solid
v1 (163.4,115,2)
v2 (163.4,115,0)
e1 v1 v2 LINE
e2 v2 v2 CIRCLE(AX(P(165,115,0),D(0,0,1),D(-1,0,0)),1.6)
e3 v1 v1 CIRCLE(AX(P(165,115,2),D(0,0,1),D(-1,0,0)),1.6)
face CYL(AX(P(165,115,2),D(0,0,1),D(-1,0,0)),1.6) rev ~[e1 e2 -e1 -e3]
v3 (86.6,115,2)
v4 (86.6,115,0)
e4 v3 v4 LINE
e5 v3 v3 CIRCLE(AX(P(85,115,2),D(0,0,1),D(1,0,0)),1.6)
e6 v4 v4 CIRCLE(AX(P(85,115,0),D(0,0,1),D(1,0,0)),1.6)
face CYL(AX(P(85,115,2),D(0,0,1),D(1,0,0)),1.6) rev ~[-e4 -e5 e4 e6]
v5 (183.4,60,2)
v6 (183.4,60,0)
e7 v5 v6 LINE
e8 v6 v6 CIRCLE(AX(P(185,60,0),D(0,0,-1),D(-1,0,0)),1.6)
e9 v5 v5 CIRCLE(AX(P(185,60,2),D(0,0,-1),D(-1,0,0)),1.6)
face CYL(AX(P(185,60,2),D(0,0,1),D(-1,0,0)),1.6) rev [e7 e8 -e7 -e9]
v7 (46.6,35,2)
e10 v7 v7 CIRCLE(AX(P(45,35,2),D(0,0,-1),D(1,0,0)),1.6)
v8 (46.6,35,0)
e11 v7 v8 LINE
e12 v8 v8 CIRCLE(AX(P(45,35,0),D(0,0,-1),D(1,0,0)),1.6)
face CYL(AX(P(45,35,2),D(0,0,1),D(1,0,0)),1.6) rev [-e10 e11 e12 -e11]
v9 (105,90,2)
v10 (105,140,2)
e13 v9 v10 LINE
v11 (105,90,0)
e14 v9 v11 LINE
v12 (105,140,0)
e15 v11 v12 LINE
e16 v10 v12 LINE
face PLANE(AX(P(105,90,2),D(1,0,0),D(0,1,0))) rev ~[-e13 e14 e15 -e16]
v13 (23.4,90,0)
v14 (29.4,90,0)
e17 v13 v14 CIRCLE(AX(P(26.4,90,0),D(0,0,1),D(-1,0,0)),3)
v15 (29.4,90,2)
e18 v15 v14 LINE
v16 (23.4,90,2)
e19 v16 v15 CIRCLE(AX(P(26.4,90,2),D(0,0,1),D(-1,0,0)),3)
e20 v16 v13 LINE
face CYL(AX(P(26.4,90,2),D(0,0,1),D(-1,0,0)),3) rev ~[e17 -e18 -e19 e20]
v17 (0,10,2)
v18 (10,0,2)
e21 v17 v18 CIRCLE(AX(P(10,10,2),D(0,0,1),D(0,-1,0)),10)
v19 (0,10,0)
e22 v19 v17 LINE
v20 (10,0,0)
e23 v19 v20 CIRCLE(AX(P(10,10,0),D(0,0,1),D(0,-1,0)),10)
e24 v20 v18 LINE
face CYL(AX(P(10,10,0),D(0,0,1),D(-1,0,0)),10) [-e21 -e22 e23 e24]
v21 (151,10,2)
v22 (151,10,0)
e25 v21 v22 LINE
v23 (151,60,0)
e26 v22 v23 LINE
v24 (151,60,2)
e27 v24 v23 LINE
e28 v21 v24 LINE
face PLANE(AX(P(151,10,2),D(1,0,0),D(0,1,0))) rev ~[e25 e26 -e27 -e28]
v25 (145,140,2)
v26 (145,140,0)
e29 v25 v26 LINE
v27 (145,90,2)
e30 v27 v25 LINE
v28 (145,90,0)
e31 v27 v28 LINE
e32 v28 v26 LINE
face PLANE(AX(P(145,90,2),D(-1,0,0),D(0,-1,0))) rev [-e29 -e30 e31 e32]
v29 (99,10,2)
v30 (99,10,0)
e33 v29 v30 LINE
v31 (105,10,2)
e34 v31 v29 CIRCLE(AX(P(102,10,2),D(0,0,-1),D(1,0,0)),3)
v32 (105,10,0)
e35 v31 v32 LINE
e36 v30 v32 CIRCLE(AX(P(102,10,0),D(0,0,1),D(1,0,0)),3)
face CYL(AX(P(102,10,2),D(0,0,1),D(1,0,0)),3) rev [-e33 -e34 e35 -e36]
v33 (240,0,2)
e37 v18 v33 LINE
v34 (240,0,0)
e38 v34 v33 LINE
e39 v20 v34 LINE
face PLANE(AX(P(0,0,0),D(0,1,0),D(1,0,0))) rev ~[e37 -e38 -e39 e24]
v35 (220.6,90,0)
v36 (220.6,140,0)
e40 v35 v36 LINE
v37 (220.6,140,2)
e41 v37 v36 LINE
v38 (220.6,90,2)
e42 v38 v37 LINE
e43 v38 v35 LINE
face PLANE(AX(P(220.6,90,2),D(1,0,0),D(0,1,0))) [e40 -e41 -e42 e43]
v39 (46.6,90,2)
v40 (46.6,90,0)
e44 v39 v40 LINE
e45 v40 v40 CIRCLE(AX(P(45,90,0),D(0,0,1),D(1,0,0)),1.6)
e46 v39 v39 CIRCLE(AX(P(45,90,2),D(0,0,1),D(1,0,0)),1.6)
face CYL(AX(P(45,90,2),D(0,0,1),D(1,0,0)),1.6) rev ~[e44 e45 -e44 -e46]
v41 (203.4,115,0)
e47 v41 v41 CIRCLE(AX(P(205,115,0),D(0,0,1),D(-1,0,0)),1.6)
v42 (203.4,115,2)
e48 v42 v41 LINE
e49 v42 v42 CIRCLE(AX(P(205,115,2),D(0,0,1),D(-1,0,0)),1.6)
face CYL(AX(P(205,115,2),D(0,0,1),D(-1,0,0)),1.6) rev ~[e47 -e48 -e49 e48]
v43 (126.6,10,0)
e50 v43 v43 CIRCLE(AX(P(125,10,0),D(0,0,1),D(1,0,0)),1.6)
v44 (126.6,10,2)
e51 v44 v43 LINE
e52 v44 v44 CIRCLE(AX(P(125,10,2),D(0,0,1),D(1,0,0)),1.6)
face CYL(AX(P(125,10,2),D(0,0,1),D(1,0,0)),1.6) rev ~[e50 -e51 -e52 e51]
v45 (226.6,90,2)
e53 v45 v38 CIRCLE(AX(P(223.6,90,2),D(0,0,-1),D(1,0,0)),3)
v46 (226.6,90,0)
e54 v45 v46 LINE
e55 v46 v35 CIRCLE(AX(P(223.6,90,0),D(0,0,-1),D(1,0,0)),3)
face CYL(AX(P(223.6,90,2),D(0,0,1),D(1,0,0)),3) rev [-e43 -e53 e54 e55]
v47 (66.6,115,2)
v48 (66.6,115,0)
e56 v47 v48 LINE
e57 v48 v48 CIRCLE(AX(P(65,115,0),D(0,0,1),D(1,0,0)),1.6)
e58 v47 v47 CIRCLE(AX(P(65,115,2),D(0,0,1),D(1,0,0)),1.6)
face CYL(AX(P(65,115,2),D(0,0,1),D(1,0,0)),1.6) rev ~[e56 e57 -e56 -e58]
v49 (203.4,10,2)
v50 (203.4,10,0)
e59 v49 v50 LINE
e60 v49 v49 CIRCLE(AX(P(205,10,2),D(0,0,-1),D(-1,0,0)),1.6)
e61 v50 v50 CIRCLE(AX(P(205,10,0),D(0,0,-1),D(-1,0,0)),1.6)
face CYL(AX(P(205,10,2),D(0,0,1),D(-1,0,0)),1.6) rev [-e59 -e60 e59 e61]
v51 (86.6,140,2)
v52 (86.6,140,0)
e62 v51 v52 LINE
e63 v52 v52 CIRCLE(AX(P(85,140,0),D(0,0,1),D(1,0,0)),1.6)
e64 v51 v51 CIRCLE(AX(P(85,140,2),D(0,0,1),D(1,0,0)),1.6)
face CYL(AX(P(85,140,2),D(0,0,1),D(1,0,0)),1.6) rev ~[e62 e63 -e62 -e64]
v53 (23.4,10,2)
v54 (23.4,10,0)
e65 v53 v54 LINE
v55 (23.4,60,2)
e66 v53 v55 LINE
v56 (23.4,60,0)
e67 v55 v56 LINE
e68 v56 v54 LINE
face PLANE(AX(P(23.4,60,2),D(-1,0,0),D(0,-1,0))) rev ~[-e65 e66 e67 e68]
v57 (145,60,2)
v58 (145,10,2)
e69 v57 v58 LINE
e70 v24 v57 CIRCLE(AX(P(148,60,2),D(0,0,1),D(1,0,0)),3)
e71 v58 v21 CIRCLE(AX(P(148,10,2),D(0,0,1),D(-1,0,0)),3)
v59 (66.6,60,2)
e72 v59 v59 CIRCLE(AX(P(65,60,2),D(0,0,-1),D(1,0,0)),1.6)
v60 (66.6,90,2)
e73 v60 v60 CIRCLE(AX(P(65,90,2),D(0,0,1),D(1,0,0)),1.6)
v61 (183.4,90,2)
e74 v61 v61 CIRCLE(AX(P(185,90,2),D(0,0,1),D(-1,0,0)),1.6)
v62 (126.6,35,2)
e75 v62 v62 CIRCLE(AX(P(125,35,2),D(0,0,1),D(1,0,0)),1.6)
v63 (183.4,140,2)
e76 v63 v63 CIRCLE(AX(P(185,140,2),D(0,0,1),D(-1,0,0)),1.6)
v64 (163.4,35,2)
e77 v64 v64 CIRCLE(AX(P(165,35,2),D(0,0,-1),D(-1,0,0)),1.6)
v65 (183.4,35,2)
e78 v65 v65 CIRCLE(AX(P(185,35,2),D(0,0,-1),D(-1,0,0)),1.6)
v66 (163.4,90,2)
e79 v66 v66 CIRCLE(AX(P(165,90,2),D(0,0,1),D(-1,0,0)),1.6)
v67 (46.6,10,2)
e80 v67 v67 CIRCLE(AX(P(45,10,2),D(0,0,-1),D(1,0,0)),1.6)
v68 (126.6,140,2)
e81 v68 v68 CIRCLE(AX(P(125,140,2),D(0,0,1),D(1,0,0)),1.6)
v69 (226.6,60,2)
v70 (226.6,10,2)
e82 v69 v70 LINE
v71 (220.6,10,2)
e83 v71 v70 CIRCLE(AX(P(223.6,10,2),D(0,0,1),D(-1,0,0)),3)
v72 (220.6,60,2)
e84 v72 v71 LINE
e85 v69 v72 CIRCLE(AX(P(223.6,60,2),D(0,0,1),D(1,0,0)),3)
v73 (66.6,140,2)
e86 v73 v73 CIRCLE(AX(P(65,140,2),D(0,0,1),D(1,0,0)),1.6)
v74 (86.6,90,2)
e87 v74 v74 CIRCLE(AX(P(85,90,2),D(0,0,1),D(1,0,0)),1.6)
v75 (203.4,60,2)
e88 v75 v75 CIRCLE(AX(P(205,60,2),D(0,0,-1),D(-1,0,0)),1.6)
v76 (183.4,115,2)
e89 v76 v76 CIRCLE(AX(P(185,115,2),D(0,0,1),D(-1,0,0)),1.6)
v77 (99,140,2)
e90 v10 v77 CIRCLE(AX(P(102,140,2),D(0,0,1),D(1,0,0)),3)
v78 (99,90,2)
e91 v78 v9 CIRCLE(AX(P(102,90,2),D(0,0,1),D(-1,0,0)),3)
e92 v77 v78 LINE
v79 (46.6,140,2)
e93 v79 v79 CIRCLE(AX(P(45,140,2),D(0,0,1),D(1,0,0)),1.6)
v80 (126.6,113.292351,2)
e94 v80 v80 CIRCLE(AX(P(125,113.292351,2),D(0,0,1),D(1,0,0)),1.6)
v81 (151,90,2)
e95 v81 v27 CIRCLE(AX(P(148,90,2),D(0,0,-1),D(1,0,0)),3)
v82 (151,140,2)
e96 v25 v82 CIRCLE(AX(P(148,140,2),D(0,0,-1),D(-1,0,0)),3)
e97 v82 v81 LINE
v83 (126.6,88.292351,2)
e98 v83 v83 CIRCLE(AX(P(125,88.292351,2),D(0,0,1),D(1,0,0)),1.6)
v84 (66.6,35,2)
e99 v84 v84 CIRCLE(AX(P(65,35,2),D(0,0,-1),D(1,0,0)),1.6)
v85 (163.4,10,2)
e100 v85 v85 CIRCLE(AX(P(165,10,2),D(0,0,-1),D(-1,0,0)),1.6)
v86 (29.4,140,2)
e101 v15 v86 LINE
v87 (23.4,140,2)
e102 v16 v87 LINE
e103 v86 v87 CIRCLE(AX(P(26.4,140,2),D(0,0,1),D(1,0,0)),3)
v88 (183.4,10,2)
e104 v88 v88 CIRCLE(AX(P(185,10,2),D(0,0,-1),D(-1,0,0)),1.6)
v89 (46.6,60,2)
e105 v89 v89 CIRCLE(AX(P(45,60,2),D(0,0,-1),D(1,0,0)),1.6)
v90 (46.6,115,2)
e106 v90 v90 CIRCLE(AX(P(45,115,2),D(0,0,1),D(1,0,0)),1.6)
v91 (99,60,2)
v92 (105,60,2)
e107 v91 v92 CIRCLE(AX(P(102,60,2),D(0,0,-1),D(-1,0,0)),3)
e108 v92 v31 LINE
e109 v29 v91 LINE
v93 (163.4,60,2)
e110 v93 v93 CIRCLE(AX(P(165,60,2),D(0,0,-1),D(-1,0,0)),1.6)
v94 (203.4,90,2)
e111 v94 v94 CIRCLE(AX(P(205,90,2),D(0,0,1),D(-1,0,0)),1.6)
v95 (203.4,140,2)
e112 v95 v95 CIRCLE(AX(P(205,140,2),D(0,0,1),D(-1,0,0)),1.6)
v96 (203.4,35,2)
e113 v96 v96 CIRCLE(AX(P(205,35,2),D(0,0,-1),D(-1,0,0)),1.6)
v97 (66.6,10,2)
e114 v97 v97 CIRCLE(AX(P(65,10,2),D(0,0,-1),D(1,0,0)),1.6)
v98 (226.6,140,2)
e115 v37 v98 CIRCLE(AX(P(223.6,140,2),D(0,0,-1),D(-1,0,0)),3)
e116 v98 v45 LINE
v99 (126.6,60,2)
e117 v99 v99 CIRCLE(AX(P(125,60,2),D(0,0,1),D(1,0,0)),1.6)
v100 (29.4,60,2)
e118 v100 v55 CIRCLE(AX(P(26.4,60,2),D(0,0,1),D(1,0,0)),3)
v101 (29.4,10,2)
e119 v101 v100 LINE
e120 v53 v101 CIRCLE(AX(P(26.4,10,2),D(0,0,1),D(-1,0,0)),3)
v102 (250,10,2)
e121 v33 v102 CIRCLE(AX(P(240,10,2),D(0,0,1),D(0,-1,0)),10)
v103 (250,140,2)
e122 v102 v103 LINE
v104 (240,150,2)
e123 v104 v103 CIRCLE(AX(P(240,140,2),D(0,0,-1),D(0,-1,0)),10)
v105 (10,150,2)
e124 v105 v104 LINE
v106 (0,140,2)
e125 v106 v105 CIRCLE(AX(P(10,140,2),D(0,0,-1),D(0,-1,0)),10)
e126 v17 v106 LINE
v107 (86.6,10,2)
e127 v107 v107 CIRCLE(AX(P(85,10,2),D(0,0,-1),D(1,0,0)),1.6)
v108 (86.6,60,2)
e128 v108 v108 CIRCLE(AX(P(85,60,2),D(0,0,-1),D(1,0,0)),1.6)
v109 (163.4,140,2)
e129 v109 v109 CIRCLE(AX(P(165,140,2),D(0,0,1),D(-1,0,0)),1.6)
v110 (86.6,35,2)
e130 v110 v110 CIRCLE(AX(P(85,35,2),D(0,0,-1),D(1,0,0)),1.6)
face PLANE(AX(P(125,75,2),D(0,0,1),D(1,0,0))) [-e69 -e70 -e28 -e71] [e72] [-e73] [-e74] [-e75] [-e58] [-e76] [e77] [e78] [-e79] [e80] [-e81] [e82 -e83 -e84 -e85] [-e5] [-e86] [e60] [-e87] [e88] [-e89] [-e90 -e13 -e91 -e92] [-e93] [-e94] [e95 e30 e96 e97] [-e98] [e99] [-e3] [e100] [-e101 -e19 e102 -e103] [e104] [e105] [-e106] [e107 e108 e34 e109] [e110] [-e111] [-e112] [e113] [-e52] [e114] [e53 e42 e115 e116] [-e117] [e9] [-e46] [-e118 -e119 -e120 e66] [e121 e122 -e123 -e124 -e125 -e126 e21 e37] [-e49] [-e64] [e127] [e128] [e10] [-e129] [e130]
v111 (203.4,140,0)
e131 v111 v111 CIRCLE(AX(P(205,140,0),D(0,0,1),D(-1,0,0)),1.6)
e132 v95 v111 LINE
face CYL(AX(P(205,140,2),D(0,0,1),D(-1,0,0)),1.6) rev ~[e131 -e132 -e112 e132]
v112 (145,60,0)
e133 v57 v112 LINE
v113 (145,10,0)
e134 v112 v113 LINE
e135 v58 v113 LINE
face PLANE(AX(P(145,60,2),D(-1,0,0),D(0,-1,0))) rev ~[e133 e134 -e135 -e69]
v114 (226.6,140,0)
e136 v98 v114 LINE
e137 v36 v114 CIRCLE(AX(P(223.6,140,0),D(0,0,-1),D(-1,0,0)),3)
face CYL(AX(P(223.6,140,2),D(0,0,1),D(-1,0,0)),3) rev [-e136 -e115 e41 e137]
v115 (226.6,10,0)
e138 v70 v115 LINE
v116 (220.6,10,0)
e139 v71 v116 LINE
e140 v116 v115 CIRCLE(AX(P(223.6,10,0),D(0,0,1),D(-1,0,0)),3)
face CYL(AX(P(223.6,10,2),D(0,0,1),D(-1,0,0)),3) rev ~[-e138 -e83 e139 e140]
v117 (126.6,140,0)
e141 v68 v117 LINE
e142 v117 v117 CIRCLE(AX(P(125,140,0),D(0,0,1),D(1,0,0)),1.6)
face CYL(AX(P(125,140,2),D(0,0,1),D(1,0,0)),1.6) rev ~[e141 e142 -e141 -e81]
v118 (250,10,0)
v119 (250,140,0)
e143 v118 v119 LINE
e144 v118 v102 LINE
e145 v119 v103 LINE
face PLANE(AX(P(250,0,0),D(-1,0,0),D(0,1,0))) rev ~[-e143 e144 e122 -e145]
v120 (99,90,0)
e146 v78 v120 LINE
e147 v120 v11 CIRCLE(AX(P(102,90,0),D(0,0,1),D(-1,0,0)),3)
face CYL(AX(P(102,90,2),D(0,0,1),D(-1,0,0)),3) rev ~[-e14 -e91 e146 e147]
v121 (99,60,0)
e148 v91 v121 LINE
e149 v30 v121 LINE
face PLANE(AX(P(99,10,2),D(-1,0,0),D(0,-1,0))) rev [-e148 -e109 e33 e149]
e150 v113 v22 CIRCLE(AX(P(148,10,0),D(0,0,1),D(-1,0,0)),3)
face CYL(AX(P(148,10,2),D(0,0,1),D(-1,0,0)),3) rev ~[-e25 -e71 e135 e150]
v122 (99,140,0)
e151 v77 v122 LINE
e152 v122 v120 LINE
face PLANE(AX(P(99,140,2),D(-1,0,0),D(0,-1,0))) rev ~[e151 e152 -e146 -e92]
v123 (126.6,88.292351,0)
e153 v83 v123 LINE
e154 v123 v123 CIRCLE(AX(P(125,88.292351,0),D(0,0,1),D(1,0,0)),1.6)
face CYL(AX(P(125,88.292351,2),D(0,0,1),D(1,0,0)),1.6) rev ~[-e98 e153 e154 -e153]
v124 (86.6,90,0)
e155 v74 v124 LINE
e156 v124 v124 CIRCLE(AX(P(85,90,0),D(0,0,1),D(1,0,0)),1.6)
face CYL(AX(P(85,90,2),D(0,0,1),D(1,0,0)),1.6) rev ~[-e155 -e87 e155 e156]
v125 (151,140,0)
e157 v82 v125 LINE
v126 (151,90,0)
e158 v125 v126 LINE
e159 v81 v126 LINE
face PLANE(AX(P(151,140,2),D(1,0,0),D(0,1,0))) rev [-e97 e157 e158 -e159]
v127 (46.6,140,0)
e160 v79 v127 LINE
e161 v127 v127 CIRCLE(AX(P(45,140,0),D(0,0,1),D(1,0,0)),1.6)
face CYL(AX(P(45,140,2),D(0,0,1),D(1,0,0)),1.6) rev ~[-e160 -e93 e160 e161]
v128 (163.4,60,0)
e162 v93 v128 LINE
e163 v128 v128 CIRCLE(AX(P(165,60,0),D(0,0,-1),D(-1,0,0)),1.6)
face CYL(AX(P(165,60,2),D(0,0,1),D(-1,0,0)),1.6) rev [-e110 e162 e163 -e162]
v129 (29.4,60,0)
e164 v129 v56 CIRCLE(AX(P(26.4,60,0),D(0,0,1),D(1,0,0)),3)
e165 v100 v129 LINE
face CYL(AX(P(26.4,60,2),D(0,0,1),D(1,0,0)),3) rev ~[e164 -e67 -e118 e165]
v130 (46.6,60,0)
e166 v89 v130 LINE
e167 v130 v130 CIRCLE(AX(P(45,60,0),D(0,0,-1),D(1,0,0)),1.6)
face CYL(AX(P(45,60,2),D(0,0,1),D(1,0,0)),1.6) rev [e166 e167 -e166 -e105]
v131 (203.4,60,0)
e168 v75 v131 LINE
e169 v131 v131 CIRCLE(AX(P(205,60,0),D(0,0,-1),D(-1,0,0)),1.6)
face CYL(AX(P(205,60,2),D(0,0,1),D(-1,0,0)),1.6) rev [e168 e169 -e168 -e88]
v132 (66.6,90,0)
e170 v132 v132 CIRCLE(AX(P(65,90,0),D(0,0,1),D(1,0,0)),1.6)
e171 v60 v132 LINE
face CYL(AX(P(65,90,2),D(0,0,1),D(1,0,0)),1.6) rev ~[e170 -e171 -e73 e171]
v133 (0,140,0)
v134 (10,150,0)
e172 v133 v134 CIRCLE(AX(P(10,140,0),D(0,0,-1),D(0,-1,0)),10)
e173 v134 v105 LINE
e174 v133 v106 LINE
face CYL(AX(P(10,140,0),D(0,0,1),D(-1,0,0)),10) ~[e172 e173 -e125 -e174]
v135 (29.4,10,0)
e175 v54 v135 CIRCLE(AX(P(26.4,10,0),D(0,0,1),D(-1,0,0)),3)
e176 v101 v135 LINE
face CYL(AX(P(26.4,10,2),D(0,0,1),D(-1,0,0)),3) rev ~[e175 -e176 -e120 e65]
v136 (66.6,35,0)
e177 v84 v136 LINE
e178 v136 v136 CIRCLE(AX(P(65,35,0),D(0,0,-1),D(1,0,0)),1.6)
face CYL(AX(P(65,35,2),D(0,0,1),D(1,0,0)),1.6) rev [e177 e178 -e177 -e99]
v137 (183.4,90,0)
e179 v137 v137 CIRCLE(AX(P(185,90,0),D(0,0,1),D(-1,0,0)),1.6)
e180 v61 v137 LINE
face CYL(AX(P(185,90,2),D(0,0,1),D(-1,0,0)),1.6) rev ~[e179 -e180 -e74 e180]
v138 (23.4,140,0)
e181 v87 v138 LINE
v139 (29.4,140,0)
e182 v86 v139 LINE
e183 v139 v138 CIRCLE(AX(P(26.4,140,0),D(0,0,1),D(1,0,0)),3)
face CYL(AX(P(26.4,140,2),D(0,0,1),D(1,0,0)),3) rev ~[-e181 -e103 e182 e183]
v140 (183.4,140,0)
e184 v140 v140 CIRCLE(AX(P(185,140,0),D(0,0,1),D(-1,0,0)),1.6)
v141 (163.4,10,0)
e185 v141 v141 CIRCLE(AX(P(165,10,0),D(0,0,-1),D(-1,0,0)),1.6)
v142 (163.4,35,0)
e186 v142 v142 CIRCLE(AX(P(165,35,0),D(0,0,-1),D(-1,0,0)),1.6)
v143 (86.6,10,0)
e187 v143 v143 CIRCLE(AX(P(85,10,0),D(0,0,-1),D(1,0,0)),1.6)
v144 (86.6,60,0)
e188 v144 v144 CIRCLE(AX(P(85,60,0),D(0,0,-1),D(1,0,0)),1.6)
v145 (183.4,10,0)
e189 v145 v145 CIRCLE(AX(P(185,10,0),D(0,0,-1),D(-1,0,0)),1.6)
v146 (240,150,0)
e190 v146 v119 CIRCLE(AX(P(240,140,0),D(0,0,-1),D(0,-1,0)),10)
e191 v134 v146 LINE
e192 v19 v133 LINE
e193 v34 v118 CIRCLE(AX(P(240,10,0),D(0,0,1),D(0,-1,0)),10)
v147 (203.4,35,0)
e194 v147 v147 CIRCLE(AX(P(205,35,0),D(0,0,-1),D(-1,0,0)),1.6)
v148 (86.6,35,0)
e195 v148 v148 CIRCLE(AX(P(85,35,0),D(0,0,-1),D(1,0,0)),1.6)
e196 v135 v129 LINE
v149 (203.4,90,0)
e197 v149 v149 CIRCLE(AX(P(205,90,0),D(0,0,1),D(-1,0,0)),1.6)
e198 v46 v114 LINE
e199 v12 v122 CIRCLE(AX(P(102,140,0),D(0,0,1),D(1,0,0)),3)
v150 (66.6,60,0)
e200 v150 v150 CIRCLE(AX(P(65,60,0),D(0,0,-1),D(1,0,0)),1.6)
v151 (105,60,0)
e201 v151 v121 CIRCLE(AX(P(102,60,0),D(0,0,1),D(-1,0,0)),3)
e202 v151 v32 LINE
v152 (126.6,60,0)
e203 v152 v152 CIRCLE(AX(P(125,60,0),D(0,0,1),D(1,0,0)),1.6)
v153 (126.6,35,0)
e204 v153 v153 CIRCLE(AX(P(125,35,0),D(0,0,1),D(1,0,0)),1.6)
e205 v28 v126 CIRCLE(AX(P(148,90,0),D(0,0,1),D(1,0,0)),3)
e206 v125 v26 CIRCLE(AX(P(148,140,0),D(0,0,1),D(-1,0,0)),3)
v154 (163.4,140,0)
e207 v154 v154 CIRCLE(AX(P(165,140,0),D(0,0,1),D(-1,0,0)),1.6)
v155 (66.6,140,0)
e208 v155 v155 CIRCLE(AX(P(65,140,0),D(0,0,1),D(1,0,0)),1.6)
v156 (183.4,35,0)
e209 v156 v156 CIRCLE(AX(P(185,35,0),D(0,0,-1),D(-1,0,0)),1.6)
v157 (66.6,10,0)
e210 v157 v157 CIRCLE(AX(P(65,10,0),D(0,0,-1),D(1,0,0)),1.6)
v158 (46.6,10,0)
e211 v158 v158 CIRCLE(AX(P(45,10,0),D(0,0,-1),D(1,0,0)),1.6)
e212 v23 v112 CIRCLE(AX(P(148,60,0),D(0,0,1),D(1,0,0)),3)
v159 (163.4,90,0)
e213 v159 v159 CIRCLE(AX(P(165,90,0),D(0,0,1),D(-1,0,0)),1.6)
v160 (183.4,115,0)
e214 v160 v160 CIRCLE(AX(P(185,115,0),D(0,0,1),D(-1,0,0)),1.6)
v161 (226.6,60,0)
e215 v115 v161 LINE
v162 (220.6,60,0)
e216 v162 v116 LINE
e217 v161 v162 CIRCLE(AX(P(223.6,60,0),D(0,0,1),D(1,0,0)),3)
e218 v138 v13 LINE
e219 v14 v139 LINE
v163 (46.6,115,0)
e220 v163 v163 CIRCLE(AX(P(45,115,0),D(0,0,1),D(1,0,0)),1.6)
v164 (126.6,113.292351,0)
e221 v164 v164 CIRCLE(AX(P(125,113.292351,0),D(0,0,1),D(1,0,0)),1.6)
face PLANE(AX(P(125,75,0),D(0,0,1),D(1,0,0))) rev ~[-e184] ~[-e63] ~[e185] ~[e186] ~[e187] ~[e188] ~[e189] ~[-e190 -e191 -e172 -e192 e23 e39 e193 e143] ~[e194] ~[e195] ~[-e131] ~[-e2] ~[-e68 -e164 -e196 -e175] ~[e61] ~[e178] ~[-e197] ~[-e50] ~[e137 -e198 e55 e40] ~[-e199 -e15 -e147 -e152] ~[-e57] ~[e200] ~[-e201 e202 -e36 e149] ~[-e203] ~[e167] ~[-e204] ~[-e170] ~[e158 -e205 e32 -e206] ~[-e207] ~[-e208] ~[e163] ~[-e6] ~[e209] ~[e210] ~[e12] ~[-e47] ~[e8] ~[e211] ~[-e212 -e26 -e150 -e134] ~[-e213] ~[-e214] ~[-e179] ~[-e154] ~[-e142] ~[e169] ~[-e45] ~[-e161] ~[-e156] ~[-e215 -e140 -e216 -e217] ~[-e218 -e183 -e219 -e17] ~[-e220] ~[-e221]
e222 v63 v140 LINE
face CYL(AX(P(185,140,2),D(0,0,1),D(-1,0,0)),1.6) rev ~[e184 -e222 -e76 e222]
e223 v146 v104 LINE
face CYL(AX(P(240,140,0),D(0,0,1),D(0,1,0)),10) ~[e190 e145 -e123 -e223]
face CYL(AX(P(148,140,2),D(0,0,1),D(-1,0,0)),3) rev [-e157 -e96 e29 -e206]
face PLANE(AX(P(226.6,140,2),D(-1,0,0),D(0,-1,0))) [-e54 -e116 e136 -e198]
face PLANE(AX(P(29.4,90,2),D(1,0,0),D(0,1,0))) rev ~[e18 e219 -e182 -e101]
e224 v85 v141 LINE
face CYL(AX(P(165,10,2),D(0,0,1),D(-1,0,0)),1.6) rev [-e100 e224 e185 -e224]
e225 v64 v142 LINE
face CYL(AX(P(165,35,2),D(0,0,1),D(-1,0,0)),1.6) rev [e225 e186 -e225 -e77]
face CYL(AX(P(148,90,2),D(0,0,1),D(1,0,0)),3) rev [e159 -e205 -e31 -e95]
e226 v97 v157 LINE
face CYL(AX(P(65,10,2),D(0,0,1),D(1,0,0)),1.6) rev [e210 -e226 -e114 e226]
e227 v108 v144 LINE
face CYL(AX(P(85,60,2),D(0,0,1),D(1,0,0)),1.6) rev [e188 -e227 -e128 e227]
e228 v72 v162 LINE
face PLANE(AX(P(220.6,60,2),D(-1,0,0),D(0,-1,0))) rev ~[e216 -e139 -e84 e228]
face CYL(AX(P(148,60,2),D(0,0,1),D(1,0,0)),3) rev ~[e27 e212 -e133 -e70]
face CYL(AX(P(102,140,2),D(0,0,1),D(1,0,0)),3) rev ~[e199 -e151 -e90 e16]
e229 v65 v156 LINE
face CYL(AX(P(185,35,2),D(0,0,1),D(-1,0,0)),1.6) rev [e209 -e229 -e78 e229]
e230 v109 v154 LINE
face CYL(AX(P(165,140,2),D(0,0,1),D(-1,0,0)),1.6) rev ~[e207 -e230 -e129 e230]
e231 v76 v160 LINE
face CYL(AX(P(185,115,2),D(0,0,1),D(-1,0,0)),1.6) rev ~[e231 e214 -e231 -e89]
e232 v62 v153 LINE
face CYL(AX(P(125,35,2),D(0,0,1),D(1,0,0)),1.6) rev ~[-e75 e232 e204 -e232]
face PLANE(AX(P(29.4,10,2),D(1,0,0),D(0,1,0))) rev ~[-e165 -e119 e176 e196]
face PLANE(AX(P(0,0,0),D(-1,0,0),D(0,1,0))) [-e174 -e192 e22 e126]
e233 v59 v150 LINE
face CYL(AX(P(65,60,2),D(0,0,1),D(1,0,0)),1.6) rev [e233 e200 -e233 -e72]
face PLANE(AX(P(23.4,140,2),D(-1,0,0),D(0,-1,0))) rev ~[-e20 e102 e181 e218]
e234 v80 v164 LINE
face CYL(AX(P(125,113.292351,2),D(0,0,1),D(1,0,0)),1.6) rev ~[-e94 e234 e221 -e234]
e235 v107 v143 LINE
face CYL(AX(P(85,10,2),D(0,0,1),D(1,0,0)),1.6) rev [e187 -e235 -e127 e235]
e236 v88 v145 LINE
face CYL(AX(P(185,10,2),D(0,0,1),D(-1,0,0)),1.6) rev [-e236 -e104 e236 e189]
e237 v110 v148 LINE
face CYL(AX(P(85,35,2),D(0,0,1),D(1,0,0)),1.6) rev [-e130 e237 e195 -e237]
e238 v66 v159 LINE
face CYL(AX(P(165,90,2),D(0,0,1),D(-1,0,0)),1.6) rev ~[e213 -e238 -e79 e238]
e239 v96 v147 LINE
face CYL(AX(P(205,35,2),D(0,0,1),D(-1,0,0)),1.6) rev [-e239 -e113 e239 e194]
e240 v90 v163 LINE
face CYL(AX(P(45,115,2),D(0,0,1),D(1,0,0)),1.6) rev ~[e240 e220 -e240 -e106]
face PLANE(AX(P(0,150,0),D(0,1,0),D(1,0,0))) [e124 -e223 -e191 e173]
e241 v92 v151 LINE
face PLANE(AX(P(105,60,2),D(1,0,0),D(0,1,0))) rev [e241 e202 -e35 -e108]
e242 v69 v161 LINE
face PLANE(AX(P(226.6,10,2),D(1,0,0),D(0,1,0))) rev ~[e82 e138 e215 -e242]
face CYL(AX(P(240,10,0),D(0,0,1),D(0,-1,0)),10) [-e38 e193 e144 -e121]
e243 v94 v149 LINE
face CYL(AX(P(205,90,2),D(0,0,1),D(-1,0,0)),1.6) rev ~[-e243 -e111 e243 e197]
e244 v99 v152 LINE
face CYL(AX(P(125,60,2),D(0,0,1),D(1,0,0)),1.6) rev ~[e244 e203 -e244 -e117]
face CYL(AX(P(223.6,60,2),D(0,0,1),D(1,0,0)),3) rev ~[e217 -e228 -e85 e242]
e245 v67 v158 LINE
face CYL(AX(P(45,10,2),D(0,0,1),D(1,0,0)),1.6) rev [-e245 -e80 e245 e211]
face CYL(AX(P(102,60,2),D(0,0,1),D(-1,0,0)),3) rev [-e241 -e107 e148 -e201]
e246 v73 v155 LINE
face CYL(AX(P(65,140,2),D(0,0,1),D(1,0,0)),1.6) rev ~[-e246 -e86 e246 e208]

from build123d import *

# Parameters (mm, degrees)
SKETCH1_W                                = 250
SKETCH1_H                                = 150
BOSS_EXTRUDE1_DEPTH                      = 2
SKETCH2_R                                = 1.6
CUT_EXTRUDE1_DEPTH                       = 2
CUT_EXTRUDE2_DEPTH                       = 2
SKETCH10_R                               = 1.6
CUT_EXTRUDE7_DEPTH                       = 292.554454605
CUT_EXTRUDE8_DEPTH                       = 292.554454605
MIRROR5_AT_THE_SECOND_PLANE_COPY_1_DEPTH = 292.554454605
FILLET1_R                                = 10


with BuildPart() as part:
    # Sketch1 → Boss-Extrude1 (new body)
    with BuildSketch(Plane.XY):
        with Locations((125, 75)):
            Rectangle(SKETCH1_W, SKETCH1_H)
    extrude(amount=BOSS_EXTRUDE1_DEPTH)

    # Sketch2 → Cut-Extrude1 (cut)
    with BuildSketch(Plane.XY.offset(2)):
        with Locations((25, 140)):
            Circle(SKETCH2_R)
        with Locations((45, 140)):
            Circle(SKETCH2_R)
        with Locations((45, 115)):
            Circle(SKETCH2_R)
        with Locations((45, 90)):
            Circle(SKETCH2_R)
        with Locations((25, 115)):
            Circle(SKETCH2_R)
        with Locations((25, 90)):
            Circle(SKETCH2_R)
        with Locations((65, 140)):
            Circle(SKETCH2_R)
        with Locations((65, 115)):
            Circle(SKETCH2_R)
        with Locations((65, 90)):
            Circle(SKETCH2_R)
        with Locations((85, 140)):
            Circle(SKETCH2_R)
        with Locations((85, 115)):
            Circle(SKETCH2_R)
        with Locations((85, 90)):
            Circle(SKETCH2_R)
        with Locations(Location((165, 90, 0), (0, 0, 180))):
            Circle(SKETCH2_R)
        with Locations(Location((185, 90, 0), (0, 0, 180))):
            Circle(SKETCH2_R)
        with Locations(Location((205, 90, 0), (0, 0, 180))):
            Circle(SKETCH2_R)
        with Locations(Location((225, 90, 0), (0, 0, 180))):
            Circle(SKETCH2_R)
        with Locations(Location((225, 115, 0), (0, 0, 180))):
            Circle(SKETCH2_R)
        with Locations(Location((205, 115, 0), (0, 0, 180))):
            Circle(SKETCH2_R)
        with Locations(Location((185, 115, 0), (0, 0, 180))):
            Circle(SKETCH2_R)
        with Locations(Location((165, 115, 0), (0, 0, 180))):
            Circle(SKETCH2_R)
        with Locations(Location((165, 140, 0), (0, 0, 180))):
            Circle(SKETCH2_R)
        with Locations(Location((185, 140, 0), (0, 0, 180))):
            Circle(SKETCH2_R)
        with Locations(Location((205, 140, 0), (0, 0, 180))):
            Circle(SKETCH2_R)
        with Locations(Location((225, 140, 0), (0, 0, 180))):
            Circle(SKETCH2_R)
    cut_extrude1 = extrude(amount=-CUT_EXTRUDE1_DEPTH, mode=Mode.SUBTRACT)

    # Mirror1: Cut-Extrude1 across plane
    add(cut_extrude1.mirror(Plane(origin=(0, 75, 0), x_dir=(0, 0, 1), z_dir=(0, -1, 0))), mode=Mode.SUBTRACT)

    # Sketch5 → Cut-Extrude2 (cut)
    with BuildSketch(Plane.XY.offset(2)):
        with BuildLine():
            Line((23.4, 140), (23.4, 90))
            ThreePointArc((23.4, 90), (26.4, 87), (29.4, 90))
            Line((29.4, 90), (29.4, 140))
            ThreePointArc((29.4, 140), (26.4, 143), (23.4, 140))
        make_face()
        with BuildLine():
            Line((29.4, 10), (29.4, 60))
            ThreePointArc((29.4, 60), (26.4, 63), (23.4, 60))
            Line((23.4, 60), (23.4, 10))
            ThreePointArc((23.4, 10), (26.4, 7), (29.4, 10))
        make_face()
        with BuildLine():
            Line((226.6, 10), (226.6, 60))
            ThreePointArc((226.6, 60), (223.6, 63), (220.6, 60))
            Line((220.6, 60), (220.6, 10))
            ThreePointArc((220.6, 10), (223.6, 7), (226.6, 10))
        make_face()
        with BuildLine():
            Line((226.6, 140), (226.6, 90))
            ThreePointArc((226.6, 90), (223.6, 87), (220.6, 90))
            Line((220.6, 90), (220.6, 140))
            ThreePointArc((220.6, 140), (223.6, 143), (226.6, 140))
        make_face()
    extrude(amount=-CUT_EXTRUDE2_DEPTH, mode=Mode.SUBTRACT)

    # Sketch10 → Cut-Extrude7 (cut, through all)
    with BuildSketch(Plane.XY.offset(2)):
        with Locations((125, 140)):
            Circle(SKETCH10_R)
        with Locations((125, 35)):
            Circle(SKETCH10_R)
        with Locations((125, 60)):
            Circle(SKETCH10_R)
        with Locations((125, 88.292351152)):
            Circle(SKETCH10_R)
        with Locations((125, 113.292351152)):
            Circle(SKETCH10_R)
        with Locations((125, 10)):
            Circle(SKETCH10_R)
    extrude(amount=-CUT_EXTRUDE7_DEPTH, mode=Mode.SUBTRACT)

    # Sketch11 → Cut-Extrude8 (cut, through all)
    with BuildSketch(Plane.XY.offset(2)):
        with BuildLine():
            Line((99, 140), (99, 90))
            ThreePointArc((99, 90), (102, 87), (105, 90))
            Line((105, 90), (105, 140))
            ThreePointArc((105, 140), (102, 143), (99, 140))
        make_face()
    cut_extrude8 = extrude(amount=-CUT_EXTRUDE8_DEPTH, mode=Mode.SUBTRACT)

    # Mirror5: Cut-Extrude8 across plane
    add(cut_extrude8.mirror(Plane(origin=(0, 75, 0), x_dir=(0, 0, 1), z_dir=(0, -1, 0))), mode=Mode.SUBTRACT)

    # Mirror5 at the second plane: Cut-Extrude8 across plane
    add(cut_extrude8.mirror(Plane.ZY.offset(-125)), mode=Mode.SUBTRACT)

    # Mirror5 at the second plane copy 1 sketc → Mirror5 at the second plane copy 1 (cut, through all)
    with BuildSketch(Plane(origin=(250, 150, 2), x_dir=(-1, 0, 0), z_dir=(0, 0, 1))):
        with BuildLine():
            Line((99, 140), (99, 90))
            ThreePointArc((99, 90), (102, 87), (105, 90))
            Line((105, 90), (105, 140))
            ThreePointArc((105, 140), (102, 143), (99, 140))
        make_face()
    extrude(amount=-MIRROR5_AT_THE_SECOND_PLANE_COPY_1_DEPTH, mode=Mode.SUBTRACT)

    # Fillet1
    fillet1_edges = [part.edges().sort_by_distance(p)[0] for p in [
        (0, 150, 1),
        (250, 150, 1),
        (250, 0, 1),
        (0, 0, 1),
    ]]
    fillet(fillet1_edges, radius=FILLET1_R)


solid = part.part
